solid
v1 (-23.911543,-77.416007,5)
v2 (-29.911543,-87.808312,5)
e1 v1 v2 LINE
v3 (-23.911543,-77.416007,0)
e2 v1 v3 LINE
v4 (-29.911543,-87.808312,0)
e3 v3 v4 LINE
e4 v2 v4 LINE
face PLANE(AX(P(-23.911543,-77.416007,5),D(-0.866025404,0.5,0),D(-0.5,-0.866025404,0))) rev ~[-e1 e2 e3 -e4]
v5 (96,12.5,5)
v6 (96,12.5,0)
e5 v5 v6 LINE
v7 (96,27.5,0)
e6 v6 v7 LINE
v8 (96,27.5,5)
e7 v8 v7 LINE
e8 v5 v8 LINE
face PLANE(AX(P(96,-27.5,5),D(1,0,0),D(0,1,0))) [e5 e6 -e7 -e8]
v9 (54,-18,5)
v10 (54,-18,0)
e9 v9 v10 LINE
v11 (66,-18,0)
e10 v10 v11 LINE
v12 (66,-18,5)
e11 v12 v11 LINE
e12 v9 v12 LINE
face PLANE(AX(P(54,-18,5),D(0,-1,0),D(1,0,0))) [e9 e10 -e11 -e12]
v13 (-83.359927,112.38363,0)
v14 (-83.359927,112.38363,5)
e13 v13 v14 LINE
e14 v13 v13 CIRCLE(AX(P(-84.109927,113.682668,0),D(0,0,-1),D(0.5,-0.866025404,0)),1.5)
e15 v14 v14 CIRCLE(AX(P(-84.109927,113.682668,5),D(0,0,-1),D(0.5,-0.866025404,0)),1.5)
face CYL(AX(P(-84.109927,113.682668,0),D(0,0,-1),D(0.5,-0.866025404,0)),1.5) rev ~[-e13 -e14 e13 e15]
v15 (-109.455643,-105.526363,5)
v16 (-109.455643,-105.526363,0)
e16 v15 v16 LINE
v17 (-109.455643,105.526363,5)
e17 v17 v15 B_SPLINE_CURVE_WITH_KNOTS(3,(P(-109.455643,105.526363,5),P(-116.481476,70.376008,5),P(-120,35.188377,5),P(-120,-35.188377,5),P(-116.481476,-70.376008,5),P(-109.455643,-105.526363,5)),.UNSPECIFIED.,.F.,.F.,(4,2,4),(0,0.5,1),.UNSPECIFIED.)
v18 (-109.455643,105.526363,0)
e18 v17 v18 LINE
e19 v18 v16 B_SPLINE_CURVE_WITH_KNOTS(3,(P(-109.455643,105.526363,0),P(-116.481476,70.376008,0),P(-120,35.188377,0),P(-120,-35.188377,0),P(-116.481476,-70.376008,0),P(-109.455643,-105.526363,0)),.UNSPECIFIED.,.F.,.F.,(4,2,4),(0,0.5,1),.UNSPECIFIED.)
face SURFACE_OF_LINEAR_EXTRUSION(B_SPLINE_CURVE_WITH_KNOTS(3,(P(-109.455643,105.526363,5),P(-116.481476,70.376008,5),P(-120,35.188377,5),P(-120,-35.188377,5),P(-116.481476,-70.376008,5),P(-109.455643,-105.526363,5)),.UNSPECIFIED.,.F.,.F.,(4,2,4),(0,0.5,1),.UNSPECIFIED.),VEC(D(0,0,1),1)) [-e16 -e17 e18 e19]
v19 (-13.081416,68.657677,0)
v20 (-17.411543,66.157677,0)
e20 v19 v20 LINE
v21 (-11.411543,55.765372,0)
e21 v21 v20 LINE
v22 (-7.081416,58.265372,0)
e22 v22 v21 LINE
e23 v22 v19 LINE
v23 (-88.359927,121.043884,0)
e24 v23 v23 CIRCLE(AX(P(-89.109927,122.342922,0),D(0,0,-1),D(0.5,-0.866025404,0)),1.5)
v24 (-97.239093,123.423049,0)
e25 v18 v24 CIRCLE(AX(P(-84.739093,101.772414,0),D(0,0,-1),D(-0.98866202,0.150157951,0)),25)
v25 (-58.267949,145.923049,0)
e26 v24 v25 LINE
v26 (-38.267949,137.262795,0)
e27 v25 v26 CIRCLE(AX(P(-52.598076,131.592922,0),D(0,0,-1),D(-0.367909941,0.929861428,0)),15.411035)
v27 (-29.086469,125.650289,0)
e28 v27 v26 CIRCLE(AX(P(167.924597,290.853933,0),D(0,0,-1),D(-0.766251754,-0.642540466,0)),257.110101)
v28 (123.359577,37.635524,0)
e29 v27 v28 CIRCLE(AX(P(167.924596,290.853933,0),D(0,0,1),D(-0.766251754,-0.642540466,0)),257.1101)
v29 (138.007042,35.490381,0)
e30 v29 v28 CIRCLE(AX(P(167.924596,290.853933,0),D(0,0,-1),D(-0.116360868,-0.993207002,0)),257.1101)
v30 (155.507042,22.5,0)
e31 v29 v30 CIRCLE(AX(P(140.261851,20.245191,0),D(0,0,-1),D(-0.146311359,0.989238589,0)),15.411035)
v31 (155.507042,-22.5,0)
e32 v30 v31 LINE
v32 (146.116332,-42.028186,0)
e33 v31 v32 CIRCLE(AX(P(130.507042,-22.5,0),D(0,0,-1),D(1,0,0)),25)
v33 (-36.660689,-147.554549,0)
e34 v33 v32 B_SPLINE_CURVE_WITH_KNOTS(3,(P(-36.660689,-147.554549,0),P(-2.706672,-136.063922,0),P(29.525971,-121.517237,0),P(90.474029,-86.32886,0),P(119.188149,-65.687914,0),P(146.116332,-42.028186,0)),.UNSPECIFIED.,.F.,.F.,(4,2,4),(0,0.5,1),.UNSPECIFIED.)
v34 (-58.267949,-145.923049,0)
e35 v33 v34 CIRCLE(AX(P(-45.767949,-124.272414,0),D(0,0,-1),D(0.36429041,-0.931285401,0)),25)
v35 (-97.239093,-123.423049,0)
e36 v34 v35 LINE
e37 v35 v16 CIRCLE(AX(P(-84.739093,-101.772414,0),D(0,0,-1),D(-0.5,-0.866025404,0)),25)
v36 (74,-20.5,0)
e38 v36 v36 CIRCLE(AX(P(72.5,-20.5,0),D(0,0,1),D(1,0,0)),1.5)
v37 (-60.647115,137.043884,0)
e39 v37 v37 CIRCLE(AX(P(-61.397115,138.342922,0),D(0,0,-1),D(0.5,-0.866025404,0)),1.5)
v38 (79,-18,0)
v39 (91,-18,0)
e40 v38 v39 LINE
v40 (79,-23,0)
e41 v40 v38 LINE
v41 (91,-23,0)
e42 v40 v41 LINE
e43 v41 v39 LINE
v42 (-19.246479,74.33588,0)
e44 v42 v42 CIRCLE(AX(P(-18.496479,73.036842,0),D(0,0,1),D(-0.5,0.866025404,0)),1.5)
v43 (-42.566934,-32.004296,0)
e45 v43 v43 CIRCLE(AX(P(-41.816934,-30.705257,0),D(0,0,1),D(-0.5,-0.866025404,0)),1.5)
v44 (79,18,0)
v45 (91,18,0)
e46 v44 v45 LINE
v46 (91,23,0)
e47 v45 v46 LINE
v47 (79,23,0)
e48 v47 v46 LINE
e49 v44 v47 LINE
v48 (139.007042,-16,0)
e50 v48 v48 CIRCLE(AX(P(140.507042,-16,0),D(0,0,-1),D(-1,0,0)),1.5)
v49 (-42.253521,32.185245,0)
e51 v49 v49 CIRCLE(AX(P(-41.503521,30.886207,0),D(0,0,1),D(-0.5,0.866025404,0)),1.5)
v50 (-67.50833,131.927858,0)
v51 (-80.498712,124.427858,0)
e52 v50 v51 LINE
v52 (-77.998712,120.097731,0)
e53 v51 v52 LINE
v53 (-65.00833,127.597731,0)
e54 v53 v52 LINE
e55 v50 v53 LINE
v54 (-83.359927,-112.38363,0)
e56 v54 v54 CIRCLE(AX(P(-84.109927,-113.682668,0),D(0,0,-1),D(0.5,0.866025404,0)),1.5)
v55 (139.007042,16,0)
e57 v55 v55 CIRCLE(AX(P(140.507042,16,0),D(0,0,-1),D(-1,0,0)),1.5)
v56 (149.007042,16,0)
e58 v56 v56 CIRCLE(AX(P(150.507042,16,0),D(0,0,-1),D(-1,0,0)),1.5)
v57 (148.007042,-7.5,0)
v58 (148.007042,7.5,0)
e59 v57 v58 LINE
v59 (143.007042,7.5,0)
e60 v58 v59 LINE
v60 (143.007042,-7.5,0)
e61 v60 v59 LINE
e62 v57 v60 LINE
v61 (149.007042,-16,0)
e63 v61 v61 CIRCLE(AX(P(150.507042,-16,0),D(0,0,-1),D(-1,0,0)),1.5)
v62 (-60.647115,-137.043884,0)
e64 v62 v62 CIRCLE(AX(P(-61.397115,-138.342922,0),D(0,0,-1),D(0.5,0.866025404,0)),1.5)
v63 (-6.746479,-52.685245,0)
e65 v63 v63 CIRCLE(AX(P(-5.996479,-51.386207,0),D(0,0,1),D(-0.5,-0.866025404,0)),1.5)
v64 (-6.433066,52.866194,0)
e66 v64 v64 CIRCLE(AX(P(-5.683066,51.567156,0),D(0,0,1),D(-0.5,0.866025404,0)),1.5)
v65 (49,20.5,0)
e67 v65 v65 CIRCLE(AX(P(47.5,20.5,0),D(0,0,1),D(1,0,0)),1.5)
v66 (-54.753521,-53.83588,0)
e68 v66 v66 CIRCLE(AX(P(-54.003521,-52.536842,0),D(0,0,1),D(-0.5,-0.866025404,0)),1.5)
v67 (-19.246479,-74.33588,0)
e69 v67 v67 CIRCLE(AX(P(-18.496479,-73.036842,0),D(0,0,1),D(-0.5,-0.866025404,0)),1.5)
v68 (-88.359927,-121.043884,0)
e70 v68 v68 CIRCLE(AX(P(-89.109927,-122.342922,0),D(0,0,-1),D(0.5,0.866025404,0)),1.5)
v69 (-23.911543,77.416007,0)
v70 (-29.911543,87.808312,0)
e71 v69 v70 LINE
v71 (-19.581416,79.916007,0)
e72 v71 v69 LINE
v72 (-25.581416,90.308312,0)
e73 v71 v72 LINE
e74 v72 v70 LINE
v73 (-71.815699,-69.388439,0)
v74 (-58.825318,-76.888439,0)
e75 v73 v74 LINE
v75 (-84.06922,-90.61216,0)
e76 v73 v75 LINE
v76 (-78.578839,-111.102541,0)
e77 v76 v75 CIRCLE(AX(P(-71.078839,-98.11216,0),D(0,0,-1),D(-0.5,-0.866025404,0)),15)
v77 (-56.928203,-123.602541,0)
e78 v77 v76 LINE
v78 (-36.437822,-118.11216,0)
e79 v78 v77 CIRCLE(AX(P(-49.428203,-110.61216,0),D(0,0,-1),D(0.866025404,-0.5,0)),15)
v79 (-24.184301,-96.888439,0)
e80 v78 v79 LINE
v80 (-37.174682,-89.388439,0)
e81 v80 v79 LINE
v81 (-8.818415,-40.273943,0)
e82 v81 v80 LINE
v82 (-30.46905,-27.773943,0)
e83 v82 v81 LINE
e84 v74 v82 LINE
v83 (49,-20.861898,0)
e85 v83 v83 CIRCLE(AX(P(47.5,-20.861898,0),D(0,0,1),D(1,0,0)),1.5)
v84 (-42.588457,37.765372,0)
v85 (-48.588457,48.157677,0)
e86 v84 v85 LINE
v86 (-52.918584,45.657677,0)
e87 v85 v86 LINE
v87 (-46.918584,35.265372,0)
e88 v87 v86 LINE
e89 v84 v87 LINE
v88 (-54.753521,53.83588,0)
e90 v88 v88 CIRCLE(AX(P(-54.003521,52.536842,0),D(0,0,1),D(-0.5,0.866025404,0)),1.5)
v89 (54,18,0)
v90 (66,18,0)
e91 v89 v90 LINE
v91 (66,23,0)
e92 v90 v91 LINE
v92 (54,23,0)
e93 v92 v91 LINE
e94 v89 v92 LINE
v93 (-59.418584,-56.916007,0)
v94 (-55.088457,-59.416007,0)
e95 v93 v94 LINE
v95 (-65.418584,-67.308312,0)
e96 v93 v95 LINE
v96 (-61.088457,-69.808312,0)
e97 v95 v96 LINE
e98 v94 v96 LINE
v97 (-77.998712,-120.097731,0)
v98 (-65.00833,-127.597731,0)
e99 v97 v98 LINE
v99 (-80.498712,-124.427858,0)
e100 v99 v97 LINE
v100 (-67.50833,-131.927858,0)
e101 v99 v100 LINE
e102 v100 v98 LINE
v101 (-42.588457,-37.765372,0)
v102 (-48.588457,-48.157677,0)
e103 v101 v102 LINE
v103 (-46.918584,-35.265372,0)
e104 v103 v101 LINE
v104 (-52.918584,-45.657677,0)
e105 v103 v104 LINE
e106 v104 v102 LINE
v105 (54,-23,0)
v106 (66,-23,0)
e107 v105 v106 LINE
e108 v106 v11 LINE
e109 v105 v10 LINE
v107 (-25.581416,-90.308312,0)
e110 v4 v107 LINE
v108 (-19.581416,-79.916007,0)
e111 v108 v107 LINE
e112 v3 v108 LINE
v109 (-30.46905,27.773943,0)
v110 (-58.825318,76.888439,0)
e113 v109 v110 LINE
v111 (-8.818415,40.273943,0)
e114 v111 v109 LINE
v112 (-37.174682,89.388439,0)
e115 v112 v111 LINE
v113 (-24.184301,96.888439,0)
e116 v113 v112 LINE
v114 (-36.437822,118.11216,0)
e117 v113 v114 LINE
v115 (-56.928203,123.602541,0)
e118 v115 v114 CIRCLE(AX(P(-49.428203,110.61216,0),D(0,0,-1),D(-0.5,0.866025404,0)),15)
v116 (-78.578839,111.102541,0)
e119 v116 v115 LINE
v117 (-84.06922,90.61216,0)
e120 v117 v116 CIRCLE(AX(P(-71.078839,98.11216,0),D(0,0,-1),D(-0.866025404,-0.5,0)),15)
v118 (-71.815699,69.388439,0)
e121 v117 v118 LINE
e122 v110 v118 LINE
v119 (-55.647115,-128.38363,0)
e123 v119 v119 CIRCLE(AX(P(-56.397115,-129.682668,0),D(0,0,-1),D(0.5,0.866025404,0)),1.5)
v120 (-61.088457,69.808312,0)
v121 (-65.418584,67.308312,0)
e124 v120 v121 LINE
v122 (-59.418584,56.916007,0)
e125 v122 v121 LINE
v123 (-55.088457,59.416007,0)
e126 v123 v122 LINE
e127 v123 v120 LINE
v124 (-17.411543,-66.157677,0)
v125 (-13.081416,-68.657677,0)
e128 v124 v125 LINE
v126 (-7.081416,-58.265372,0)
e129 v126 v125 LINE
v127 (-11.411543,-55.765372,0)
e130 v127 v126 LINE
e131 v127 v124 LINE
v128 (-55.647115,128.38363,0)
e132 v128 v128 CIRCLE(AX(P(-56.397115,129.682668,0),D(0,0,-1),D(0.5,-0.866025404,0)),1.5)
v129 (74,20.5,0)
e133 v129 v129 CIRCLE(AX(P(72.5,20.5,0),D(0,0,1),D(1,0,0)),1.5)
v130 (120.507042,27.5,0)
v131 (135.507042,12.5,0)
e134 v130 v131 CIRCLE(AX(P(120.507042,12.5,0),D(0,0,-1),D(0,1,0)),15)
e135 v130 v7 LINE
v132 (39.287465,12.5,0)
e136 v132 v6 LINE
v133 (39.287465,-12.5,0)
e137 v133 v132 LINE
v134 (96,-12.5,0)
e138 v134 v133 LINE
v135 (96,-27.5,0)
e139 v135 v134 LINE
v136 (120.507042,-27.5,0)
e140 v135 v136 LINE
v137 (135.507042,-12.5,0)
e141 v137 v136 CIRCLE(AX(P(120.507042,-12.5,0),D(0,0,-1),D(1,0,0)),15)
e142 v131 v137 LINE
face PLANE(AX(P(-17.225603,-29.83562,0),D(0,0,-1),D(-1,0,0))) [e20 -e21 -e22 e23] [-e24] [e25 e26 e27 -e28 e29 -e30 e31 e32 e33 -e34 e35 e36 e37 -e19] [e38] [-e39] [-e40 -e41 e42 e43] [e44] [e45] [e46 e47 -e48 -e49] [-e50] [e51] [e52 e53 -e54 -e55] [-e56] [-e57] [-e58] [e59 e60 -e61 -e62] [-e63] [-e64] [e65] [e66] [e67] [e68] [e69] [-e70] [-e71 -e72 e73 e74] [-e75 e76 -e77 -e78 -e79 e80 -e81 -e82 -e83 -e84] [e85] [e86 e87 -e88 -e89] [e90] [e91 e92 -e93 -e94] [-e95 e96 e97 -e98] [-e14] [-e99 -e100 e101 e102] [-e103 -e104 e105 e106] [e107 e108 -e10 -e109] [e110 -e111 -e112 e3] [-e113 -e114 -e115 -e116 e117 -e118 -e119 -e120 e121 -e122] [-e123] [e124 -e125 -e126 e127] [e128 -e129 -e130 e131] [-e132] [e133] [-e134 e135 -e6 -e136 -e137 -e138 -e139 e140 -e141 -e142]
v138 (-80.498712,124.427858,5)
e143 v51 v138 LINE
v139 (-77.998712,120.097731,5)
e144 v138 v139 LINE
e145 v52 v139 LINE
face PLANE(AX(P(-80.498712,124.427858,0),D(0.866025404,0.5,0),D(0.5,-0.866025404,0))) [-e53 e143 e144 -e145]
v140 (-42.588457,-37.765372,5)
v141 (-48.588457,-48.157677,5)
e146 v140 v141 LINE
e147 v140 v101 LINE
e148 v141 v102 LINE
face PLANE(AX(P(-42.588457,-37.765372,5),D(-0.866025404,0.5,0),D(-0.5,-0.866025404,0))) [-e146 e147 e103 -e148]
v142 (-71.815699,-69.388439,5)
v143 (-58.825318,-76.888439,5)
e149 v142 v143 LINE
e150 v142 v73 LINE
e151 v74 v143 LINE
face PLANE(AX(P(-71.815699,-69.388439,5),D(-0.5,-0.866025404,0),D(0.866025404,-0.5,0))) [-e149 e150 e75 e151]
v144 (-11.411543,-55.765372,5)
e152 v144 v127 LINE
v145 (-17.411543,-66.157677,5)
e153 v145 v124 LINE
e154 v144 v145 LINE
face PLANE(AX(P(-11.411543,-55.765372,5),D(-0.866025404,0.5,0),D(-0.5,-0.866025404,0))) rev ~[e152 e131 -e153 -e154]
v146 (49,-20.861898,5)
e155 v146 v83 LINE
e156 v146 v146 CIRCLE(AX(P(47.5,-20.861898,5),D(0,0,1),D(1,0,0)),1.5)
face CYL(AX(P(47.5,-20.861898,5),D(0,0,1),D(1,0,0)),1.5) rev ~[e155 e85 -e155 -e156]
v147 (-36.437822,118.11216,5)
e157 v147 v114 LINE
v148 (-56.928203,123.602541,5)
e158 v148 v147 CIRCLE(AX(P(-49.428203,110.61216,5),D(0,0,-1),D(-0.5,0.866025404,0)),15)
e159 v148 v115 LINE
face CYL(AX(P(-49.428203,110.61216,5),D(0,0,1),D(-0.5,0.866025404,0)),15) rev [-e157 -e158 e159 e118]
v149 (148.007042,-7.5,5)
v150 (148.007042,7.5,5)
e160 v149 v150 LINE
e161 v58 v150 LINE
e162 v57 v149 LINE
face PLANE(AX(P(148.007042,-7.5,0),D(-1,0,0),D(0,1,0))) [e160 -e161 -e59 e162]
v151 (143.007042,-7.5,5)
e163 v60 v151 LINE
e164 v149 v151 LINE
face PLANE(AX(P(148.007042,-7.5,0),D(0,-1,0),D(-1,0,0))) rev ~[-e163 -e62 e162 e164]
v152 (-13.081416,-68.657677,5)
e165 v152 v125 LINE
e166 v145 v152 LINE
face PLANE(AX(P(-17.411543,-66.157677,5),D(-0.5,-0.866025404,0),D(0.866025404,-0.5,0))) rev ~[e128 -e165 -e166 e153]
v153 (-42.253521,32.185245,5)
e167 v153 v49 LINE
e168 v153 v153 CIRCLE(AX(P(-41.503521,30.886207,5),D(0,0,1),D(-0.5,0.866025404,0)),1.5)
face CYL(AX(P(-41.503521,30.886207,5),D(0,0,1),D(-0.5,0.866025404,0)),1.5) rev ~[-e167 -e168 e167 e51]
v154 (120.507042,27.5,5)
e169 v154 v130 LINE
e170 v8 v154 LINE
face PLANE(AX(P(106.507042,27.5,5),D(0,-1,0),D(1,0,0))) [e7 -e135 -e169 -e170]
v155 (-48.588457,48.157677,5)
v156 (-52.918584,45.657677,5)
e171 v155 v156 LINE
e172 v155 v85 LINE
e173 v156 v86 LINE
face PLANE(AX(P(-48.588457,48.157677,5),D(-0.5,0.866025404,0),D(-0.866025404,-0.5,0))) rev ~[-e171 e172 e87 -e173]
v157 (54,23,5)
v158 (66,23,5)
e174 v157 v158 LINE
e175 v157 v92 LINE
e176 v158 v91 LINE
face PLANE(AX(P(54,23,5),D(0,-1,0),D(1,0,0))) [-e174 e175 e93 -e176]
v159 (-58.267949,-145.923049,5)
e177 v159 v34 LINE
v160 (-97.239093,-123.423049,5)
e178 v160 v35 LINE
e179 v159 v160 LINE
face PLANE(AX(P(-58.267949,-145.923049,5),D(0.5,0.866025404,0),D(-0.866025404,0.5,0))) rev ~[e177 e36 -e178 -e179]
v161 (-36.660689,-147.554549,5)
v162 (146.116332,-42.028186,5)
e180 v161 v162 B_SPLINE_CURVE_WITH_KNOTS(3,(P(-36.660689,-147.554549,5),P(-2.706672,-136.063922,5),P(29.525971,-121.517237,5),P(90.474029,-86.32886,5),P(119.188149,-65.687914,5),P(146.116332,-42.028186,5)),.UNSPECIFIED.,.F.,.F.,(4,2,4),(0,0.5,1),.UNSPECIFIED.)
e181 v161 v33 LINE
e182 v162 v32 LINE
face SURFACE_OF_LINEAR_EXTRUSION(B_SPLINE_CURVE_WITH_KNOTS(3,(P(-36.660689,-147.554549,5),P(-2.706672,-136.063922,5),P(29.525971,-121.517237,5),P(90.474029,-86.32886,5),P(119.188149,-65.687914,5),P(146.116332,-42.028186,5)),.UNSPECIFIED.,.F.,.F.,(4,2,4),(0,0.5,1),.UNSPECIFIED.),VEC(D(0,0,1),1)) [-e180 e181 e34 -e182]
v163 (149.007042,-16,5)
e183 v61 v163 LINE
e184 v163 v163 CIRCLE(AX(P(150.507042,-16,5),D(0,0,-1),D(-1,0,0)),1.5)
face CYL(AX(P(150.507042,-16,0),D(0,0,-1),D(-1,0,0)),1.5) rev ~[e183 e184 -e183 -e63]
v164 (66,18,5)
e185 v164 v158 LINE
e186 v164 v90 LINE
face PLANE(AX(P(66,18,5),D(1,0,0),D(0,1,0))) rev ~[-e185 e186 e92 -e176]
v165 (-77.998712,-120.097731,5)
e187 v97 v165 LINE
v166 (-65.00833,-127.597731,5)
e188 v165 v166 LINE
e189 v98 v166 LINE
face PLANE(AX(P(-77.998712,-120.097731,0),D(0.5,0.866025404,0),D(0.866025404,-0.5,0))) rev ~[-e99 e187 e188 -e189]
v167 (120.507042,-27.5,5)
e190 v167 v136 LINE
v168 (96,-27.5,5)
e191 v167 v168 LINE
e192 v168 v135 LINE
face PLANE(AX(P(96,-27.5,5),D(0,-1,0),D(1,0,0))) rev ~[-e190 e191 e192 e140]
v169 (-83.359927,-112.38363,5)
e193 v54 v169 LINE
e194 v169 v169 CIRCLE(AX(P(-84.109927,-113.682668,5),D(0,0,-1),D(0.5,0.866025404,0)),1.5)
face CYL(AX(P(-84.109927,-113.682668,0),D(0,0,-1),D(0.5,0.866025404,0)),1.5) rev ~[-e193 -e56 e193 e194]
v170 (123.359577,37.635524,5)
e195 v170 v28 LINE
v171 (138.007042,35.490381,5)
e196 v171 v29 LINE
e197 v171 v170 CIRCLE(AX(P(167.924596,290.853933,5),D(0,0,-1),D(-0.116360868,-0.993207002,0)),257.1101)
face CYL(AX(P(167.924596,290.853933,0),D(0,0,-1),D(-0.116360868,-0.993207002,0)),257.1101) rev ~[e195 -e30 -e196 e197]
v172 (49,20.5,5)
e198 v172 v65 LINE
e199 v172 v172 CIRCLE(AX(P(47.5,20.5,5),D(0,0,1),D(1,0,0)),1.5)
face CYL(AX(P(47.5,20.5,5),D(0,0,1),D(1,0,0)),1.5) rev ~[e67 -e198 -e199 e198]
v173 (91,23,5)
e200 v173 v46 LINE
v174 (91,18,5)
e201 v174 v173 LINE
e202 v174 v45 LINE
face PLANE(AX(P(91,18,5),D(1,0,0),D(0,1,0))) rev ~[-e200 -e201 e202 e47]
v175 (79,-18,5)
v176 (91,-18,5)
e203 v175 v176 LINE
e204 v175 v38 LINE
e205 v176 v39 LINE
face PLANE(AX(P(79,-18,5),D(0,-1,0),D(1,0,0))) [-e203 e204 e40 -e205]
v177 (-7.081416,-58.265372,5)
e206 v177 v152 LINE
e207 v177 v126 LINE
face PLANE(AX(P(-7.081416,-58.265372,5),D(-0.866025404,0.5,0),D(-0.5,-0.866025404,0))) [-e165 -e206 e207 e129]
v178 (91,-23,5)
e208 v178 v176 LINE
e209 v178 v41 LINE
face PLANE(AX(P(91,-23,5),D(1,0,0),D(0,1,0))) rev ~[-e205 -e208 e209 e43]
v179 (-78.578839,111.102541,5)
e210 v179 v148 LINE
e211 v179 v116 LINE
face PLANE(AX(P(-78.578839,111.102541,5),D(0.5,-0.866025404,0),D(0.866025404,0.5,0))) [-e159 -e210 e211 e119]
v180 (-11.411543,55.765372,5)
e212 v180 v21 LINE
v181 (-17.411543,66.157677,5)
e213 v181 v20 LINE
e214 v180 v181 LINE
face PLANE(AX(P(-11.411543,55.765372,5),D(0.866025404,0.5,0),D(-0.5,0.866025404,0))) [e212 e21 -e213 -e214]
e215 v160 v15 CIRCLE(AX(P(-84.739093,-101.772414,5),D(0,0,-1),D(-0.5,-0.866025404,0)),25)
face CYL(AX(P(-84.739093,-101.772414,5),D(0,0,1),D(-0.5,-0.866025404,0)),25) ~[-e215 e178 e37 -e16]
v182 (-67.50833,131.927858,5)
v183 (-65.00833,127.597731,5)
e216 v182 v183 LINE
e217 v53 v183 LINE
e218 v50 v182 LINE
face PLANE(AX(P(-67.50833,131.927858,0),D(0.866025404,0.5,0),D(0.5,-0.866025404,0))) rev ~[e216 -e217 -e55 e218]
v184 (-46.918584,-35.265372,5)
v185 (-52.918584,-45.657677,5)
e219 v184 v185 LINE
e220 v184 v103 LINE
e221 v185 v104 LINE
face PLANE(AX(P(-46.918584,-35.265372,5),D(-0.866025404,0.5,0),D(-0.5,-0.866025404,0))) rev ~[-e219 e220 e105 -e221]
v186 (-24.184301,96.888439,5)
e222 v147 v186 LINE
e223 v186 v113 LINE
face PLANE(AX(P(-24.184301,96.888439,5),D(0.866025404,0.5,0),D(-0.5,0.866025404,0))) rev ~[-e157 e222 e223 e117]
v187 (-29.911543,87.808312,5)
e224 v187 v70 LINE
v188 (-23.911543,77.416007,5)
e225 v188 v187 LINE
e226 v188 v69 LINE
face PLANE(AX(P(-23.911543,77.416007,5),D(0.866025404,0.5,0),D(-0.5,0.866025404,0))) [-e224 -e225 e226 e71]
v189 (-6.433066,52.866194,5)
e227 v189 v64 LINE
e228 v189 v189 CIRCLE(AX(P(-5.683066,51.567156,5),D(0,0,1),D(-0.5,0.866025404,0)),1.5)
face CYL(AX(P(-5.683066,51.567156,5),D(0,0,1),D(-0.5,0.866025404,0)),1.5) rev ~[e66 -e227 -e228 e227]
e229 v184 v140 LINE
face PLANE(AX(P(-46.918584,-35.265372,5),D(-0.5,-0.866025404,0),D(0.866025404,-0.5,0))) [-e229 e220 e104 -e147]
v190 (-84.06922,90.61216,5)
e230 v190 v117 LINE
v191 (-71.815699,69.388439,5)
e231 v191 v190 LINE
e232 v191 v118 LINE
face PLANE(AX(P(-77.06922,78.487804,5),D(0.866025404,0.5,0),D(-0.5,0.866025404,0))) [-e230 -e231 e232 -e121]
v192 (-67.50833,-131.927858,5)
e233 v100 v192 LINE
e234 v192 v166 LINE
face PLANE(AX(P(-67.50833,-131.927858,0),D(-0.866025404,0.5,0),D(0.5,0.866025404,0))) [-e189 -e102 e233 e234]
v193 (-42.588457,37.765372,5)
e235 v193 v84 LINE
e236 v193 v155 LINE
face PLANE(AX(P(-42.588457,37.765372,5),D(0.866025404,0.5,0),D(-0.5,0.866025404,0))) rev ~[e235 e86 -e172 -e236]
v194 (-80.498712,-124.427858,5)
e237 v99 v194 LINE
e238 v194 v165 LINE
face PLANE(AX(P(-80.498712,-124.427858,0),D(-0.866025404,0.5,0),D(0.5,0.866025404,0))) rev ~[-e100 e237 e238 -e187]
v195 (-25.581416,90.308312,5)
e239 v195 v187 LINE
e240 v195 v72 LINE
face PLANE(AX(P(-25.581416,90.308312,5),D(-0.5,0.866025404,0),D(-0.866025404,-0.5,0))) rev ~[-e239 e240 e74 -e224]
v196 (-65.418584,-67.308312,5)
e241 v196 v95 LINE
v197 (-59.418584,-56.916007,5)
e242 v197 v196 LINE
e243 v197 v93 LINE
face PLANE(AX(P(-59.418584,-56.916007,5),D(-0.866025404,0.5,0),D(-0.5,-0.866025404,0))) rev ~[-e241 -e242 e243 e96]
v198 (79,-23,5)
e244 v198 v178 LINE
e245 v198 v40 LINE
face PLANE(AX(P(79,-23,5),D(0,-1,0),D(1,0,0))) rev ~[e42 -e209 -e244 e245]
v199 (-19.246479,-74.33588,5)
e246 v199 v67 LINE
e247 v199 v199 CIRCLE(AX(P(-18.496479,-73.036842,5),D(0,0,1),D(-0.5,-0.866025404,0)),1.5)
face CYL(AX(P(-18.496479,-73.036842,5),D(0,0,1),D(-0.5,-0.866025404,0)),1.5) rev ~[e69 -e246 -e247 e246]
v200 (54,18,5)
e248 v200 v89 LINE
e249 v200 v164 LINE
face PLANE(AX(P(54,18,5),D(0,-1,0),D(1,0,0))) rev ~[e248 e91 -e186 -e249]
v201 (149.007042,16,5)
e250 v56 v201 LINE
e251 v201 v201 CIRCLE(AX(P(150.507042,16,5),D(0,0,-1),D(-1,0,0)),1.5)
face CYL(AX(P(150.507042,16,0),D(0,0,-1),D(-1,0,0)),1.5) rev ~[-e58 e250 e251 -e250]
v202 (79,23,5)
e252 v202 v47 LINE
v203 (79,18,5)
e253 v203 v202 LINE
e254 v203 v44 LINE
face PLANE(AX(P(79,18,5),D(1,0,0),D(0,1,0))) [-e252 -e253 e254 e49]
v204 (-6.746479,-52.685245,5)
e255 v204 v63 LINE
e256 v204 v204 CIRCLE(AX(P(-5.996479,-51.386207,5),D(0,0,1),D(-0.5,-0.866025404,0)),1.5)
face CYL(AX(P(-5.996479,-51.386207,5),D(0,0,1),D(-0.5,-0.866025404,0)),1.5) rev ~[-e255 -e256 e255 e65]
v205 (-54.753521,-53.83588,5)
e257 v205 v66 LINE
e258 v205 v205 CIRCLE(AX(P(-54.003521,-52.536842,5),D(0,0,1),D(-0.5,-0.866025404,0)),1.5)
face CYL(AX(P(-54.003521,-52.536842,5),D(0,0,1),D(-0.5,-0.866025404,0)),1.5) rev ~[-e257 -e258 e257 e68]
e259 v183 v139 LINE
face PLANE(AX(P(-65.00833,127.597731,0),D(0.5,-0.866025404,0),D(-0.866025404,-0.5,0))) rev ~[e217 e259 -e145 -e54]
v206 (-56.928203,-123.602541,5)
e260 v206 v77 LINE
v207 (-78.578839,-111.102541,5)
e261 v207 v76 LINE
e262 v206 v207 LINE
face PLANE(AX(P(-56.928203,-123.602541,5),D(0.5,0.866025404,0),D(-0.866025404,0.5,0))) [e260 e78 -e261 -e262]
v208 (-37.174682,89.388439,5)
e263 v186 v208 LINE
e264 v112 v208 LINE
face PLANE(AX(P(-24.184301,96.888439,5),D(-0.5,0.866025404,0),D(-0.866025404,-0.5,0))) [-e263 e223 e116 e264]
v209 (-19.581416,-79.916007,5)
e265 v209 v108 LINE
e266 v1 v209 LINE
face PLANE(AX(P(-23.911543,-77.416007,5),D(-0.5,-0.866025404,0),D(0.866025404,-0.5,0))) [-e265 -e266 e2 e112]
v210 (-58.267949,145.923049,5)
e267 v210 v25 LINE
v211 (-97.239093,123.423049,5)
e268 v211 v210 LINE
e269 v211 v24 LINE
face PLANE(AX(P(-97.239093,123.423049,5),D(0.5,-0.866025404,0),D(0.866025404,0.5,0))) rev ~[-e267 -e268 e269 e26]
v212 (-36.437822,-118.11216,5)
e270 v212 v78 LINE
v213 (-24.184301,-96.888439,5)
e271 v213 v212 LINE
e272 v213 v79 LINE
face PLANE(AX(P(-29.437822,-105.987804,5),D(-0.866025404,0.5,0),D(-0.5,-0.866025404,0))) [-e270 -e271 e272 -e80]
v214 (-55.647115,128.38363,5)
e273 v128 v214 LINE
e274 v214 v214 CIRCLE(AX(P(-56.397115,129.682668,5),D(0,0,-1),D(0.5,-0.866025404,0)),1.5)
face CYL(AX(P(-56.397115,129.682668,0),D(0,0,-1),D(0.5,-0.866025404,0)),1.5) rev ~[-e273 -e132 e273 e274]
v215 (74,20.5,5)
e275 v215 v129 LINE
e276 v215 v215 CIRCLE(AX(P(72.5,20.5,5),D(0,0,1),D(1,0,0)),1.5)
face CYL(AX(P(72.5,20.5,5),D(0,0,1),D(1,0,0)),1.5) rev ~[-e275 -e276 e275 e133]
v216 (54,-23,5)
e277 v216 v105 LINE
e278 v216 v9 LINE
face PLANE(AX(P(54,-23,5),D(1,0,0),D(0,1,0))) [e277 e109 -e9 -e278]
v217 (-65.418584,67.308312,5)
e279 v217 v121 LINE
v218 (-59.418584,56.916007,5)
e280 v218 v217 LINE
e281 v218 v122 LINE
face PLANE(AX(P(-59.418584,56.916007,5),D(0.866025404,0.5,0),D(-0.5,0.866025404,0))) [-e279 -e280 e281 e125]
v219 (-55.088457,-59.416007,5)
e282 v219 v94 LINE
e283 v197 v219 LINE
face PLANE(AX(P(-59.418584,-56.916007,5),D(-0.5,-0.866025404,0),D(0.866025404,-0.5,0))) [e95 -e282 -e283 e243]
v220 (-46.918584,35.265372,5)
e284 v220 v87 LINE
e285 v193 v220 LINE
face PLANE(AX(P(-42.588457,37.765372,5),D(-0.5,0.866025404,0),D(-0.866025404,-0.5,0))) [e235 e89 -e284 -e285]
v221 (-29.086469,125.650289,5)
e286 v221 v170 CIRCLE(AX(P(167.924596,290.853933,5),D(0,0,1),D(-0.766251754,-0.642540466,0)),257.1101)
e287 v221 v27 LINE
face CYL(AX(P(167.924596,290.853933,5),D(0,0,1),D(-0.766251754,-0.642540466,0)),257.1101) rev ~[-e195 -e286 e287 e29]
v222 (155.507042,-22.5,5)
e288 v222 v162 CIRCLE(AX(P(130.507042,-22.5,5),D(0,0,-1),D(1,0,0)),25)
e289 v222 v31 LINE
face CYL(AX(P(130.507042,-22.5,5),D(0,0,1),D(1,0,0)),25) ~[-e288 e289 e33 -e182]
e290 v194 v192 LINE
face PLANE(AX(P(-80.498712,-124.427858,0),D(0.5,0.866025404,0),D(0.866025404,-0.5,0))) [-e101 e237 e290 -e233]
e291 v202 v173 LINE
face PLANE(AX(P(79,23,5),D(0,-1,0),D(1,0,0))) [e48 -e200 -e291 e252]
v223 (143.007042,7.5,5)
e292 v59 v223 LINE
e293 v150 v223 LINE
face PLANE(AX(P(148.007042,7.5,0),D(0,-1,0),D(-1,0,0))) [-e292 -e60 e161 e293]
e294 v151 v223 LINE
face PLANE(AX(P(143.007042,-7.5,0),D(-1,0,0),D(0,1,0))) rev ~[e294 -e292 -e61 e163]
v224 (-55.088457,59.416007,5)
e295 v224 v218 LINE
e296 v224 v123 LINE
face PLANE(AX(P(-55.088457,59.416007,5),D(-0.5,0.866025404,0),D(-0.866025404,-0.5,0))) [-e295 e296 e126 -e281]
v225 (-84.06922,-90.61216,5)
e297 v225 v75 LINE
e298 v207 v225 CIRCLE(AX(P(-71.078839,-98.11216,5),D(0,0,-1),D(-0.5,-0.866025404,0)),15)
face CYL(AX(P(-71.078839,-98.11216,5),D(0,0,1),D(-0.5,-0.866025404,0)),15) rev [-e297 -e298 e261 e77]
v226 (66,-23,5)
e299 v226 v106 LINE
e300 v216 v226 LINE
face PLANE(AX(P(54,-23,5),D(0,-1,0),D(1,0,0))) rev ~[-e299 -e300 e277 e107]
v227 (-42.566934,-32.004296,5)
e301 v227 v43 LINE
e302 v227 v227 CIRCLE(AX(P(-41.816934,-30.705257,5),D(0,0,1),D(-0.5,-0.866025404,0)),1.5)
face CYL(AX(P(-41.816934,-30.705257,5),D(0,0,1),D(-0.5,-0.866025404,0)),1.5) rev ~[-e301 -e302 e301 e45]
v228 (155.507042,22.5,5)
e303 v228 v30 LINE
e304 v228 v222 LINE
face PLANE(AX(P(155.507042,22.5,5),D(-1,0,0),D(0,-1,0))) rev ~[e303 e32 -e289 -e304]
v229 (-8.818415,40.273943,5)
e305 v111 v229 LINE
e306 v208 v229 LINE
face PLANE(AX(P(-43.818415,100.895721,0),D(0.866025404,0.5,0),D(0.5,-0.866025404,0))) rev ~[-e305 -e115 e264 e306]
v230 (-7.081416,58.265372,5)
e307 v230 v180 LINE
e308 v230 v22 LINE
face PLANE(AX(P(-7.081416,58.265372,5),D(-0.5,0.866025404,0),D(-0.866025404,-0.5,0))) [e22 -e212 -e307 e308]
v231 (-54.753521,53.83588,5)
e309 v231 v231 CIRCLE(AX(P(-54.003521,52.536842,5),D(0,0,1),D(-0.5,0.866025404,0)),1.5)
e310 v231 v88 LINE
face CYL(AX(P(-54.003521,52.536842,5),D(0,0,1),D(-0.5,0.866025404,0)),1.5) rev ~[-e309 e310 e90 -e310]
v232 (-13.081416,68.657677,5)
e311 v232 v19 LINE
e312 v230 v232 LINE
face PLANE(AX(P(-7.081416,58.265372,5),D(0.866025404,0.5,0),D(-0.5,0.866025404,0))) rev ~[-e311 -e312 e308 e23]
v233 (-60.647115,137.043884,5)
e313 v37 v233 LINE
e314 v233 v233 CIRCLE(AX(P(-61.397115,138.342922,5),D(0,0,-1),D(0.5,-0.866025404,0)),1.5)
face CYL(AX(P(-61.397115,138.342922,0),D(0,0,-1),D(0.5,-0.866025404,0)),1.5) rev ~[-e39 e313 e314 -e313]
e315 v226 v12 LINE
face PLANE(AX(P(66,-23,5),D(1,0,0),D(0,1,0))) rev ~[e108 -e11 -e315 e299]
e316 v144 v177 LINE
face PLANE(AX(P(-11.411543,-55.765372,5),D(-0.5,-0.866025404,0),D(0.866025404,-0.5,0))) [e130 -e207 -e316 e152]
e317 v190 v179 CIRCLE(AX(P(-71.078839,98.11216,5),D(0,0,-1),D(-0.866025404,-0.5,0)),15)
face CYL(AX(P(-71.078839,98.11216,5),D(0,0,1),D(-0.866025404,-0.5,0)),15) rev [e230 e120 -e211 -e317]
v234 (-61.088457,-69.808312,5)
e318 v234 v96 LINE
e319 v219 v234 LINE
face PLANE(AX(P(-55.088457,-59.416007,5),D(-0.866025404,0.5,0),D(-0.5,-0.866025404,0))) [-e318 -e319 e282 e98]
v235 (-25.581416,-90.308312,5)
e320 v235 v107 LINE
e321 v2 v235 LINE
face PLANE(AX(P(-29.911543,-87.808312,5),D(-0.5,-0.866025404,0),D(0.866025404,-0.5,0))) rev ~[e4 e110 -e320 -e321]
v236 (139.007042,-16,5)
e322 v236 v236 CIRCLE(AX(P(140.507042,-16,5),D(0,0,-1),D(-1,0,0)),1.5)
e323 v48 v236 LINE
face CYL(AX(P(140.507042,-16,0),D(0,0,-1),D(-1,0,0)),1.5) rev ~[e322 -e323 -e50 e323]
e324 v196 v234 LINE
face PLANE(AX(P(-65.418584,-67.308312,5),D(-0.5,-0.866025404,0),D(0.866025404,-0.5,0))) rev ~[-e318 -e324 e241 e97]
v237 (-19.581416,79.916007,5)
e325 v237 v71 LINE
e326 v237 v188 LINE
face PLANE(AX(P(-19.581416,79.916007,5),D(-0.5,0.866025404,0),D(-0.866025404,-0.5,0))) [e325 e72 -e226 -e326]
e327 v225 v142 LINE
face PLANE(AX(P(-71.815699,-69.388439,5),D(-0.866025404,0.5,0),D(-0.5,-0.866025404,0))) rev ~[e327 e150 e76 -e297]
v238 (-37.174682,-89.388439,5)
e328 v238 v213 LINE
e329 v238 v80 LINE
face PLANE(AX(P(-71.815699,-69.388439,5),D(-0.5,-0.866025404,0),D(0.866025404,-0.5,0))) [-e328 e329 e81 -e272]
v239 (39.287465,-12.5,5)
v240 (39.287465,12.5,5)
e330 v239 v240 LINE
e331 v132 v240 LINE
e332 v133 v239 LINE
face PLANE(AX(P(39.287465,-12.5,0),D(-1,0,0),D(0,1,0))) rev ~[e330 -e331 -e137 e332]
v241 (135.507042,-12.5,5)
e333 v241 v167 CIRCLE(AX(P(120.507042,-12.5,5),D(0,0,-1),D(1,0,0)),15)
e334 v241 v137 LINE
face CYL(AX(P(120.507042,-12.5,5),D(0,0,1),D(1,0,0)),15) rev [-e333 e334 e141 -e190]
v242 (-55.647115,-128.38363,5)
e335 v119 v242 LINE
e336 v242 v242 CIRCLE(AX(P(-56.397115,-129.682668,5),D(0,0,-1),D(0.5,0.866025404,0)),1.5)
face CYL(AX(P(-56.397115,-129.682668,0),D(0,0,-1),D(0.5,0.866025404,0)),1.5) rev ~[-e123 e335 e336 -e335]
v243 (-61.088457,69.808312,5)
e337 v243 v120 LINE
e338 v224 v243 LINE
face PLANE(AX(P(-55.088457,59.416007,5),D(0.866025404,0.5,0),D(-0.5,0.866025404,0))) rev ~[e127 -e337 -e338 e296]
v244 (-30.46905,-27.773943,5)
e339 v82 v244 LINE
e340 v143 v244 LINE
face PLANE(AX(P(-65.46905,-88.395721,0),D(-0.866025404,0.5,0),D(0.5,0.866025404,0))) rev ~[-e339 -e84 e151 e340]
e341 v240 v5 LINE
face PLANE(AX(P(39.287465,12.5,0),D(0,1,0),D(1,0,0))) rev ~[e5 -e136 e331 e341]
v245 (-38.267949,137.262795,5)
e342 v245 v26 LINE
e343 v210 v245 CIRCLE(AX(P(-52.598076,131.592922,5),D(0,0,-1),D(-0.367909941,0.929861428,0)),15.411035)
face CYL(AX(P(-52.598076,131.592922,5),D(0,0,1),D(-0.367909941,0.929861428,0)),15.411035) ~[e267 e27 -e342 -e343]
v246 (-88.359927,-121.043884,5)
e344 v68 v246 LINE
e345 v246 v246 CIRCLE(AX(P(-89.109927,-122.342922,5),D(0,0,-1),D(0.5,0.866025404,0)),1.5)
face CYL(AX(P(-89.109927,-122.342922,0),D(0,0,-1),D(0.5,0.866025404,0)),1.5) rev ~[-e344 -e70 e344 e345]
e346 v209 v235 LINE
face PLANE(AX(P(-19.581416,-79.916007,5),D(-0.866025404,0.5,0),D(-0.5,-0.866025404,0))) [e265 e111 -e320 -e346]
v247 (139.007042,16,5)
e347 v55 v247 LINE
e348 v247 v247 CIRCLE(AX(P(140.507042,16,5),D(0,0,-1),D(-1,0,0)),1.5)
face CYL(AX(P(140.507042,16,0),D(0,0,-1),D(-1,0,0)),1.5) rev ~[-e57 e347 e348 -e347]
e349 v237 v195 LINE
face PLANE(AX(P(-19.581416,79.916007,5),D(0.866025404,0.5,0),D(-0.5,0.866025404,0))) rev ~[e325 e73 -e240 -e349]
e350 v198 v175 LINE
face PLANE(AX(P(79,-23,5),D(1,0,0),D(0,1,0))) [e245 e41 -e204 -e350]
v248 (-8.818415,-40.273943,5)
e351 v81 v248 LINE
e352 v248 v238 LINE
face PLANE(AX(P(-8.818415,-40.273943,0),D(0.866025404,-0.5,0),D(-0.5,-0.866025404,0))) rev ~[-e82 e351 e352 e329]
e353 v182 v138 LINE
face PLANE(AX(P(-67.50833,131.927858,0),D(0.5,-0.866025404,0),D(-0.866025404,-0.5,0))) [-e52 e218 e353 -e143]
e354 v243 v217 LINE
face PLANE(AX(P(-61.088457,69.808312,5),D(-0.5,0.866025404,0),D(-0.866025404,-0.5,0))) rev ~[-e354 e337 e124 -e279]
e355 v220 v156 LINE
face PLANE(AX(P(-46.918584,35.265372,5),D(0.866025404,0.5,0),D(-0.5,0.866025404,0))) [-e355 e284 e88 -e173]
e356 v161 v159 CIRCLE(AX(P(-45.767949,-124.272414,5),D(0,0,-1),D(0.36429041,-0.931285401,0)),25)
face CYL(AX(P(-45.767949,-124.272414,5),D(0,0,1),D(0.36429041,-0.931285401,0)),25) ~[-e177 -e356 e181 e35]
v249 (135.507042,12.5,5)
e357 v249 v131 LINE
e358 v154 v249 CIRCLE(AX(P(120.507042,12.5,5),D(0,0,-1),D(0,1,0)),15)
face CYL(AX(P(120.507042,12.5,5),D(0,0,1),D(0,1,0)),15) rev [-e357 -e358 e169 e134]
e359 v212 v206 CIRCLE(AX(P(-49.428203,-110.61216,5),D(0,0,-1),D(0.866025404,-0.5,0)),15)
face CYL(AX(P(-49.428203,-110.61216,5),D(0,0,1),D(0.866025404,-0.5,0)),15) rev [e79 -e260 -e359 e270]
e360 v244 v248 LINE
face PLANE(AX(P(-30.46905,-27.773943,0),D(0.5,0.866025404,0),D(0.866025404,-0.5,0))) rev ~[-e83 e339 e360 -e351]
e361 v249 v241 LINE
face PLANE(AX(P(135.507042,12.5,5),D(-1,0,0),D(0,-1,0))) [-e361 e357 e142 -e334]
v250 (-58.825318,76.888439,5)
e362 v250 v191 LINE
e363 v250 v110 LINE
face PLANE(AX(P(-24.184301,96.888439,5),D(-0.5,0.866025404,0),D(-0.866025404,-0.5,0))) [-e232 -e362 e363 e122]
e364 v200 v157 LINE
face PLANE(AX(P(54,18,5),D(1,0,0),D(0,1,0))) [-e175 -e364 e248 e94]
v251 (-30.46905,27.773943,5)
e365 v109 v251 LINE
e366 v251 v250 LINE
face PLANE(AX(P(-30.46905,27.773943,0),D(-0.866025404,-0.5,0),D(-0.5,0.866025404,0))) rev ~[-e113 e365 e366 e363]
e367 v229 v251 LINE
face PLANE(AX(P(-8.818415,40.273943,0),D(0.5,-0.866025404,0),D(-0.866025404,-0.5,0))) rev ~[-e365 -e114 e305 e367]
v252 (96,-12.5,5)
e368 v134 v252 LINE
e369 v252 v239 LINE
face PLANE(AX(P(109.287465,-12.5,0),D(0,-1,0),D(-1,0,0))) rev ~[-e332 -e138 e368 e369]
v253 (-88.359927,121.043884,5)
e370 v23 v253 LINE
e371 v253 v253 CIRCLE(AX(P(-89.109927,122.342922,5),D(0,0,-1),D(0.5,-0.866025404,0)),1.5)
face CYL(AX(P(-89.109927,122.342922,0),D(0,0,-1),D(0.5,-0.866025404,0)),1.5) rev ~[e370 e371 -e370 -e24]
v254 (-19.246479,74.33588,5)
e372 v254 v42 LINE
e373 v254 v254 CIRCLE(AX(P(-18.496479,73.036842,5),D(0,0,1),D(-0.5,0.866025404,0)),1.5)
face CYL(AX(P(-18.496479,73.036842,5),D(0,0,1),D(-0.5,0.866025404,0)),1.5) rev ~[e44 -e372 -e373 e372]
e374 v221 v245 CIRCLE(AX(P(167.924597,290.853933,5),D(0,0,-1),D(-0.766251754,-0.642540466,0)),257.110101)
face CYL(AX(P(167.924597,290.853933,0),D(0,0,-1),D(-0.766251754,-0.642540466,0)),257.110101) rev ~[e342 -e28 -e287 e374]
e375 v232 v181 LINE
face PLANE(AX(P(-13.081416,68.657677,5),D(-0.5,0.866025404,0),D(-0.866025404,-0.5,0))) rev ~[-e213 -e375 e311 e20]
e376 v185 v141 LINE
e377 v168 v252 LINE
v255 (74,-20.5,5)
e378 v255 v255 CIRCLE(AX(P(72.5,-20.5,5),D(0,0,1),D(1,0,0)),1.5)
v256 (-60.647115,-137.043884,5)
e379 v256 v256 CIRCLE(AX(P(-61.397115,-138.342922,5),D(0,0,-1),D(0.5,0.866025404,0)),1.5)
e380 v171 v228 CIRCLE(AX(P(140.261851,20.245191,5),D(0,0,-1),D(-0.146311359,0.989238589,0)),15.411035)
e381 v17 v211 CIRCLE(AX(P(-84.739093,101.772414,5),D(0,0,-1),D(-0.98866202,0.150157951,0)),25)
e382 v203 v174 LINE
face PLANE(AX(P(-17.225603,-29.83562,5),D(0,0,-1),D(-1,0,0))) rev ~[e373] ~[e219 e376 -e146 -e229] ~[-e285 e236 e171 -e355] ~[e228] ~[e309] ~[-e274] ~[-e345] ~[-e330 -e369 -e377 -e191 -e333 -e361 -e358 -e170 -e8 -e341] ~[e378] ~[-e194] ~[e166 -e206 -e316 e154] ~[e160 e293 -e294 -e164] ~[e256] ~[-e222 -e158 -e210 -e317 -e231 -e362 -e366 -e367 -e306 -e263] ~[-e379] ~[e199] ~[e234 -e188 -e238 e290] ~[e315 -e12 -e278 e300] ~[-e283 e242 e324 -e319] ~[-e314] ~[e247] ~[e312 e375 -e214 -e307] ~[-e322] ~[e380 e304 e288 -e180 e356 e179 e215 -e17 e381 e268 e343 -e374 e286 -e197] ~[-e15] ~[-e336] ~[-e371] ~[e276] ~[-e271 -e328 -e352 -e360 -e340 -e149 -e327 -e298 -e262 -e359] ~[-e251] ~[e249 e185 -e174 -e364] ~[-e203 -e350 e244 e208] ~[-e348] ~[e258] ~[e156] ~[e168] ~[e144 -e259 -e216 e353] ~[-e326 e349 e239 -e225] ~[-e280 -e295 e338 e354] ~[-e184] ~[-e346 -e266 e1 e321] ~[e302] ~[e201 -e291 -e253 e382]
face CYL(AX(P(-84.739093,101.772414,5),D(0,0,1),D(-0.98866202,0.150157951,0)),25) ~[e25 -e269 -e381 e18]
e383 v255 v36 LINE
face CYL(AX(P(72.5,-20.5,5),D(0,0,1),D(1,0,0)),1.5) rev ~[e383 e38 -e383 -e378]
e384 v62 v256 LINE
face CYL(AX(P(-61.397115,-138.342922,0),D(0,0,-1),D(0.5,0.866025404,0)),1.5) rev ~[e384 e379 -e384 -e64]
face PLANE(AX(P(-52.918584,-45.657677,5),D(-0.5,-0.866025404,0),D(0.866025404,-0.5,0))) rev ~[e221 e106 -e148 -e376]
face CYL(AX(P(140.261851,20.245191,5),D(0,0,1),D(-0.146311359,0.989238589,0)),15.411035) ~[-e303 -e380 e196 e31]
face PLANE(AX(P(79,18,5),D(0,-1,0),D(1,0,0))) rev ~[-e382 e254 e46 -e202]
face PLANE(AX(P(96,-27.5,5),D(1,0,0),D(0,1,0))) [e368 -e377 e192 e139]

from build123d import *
from build123d.topology import SkipClean

# Parameters (mm, degrees)
BOSS_EXTRUDE1_DEPTH = 5
BOSS_EXTRUDE2_DEPTH = 5
SKETCH4_R           = 1.5
SKETCH4_W           = 21.014084041
SKETCH4_H           = 55
SKETCH4_W_2         = 12
SKETCH4_H_2         = 5
CUT_EXTRUDE1_DEPTH  = 5
CIRPATTERN1_COUNT   = 3
SKETCH5_R           = 188.544827525
CUT_EXTRUDE2_DEPTH  = 5
BOSS_EXTRUDE3_DEPTH = 5
BOSS_EXTRUDE4_DEPTH = 5
BOSS_EXTRUDE5_START = -5
BOSS_EXTRUDE5_DEPTH = 5
CUT_EXTRUDE3_START  = -5
CUT_EXTRUDE3_DEPTH  = 5
SKETCH8_R           = 1.5
SKETCH8_W           = 5
SKETCH8_H           = 15
CUT_EXTRUDE4_DEPTH  = 10
CIRPATTERN2_COUNT   = 3


with BuildPart() as part:
    # Sketch1 → Boss-Extrude1 (new body)
    with BuildSketch(Plane.XY):
        with BuildLine():
            Line((-8.818414939, -40.273942716), (-43.818414939, -100.895720981))
            ThreePointArc((-43.818414939, -100.895720981), (55, -95.262794416), (109.287464972, -12.5))
            Line((109.287464972, -12.5), (39.287464972, -12.5))
            Line((39.287464972, -12.5), (39.287464972, 12.5))
            Line((39.287464972, 12.5), (109.287464972, 12.5))
            ThreePointArc((109.287464972, 12.5), (55, 95.262794416), (-43.818414939, 100.895720981))
            Line((-43.818414939, 100.895720981), (-8.818414939, 40.273942716))
            Line((-8.818414939, 40.273942716), (-30.469050033, 27.773942716))
            Line((-30.469050033, 27.773942716), (-65.469050033, 88.395720981))
            ThreePointArc((-65.469050033, 88.395720981), (-110, 0), (-65.469050033, -88.395720981))
            Line((-65.469050033, -88.395720981), (-30.469050033, -27.773942716))
            Line((-30.469050033, -27.773942716), (-8.818414939, -40.273942716))
        make_face()
    extrude(amount=BOSS_EXTRUDE1_DEPTH)

    # Sketch3 → Boss-Extrude2 (add)
    with BuildSketch(Plane.XY.offset(5)):
        with BuildLine():
            Line((145.507042021, -22.5), (145.507042021, 22.5))
            ThreePointArc((145.507042021, 22.5), (141.113643739, 33.106601718), (130.507042021, 37.5))
            Line((130.507042021, 37.5), (96.507042021, 37.5))
            Line((96.507042021, 37.5), (96.507042021, -37.5))
            Line((96.507042021, -37.5), (130.507042021, -37.5))
            ThreePointArc((130.507042021, -37.5), (141.113643739, -33.106601718), (145.507042021, -22.5))
        make_face()
        with BuildLine():
            Line((120.507042021, -27.5), (106.507042021, -27.5))
            Line((106.507042021, -27.5), (106.507042021, 27.5))
            Line((106.507042021, 27.5), (120.507042021, 27.5))
            ThreePointArc((120.507042021, 27.5), (131.113643739, 23.106601718), (135.507042021, 12.5))
            Line((135.507042021, 12.5), (135.507042021, -12.5))
            ThreePointArc((135.507042021, -12.5), (131.113643739, -23.106601718), (120.507042021, -27.5))
        make_face(mode=Mode.SUBTRACT)
    boss_extrude2 = extrude(amount=-BOSS_EXTRUDE2_DEPTH)

    # Sketch4 → Cut-Extrude1 (cut)
    with BuildSketch(Plane.XY.offset(5)):
        with Locations((72.5, -20.5)):
            Circle(SKETCH4_R)
        with Locations((72.5, 20.5)):
            Circle(SKETCH4_R)
        with Locations((47.5, 20.5)):
            Circle(SKETCH4_R)
        with Locations((47.5, -20.861898396)):
            Circle(SKETCH4_R)
        with Locations((106.50704202, 0)):
            Rectangle(SKETCH4_W, SKETCH4_H)
        with Locations((85, -20.5)):
            Rectangle(SKETCH4_W_2, SKETCH4_H_2)
        with Locations((60, -20.5)):
            Rectangle(SKETCH4_W_2, SKETCH4_H_2)
        with Locations((85, 20.5)):
            Rectangle(SKETCH4_W_2, SKETCH4_H_2)
        with Locations((60, 20.5)):
            Rectangle(SKETCH4_W_2, SKETCH4_H_2)
    cut_extrude1 = extrude(amount=-CUT_EXTRUDE1_DEPTH, mode=Mode.SUBTRACT)

    # CirPattern1: Boss-Extrude2, Cut-Extrude1 ×3 about axis
    cirpattern1_axis = Axis((0, 0, 5), (0, 0, 1))
    add([boss_extrude2.rotate(cirpattern1_axis, i * 360 / CIRPATTERN1_COUNT) for i in range(1, CIRPATTERN1_COUNT)])
    add([cut_extrude1.rotate(cirpattern1_axis, i * 360 / CIRPATTERN1_COUNT) for i in range(1, CIRPATTERN1_COUNT)], mode=Mode.SUBTRACT)

    # Sketch5 → Cut-Extrude2 (cut)
    with BuildSketch(Plane.XY.offset(5)):
        with Locations((130.507042021, 226.044827525)):
            Circle(SKETCH5_R)
    extrude(amount=-CUT_EXTRUDE2_DEPTH, mode=Mode.SUBTRACT)

    # Sketch5<2> → Boss-Extrude3 (add)
    with SkipClean():  # the faces are left unmerged after this step: merging them gives an invalid solid
        with BuildSketch(Plane.XY.offset(5)):
            with BuildLine():
                ThreePointArc((130.507042021, 37.5), (36.234628258, 62.760217136), (-32.777568368, 131.772413763))
                ThreePointArc((-32.777568368, 131.772413763), (30.05166829, 52.051016331), (130.507042021, 37.5))
            make_face()
        extrude(amount=-BOSS_EXTRUDE3_DEPTH)

    # Sketch6 → Boss-Extrude4 (add)
    with SkipClean():  # the faces are left unmerged after this step: merging them gives an invalid solid
        with BuildSketch(Plane.XY.offset(5)):
            with BuildLine():
                add(Edge.make_bspline(
                    [(141.113643739, -33.106601718), (60.386010005, -104.591637395), (-41.885663749, -138.761301157)],
                    knots=[0, 0, 0, 1, 1, 1], degree=2))
                ThreePointArc((141.113643739, -33.106601718), (27.732185277, -48.033553904), (-41.885663749, -138.761301157))
            make_face()
            with BuildLine():
                ThreePointArc((-99.22797999, -105.654699439), (-55.464370554, 0), (-99.22797999, 105.654699439))
                add(Edge.make_bspline(
                    [(-99.22797999, 105.654699439), (-120.77202001, 0), (-99.22797999, -105.654699439)],
                    knots=[0, 0, 0, 1, 1, 1], degree=2))
            make_face()
        extrude(amount=-BOSS_EXTRUDE4_DEPTH)

    # Sketch7 → Boss-Extrude5 (add)
    with BuildSketch(Plane(origin=(0, 0, 0), x_dir=(-1, 0, 0), z_dir=(0, 0, -1)).offset(BOSS_EXTRUDE5_START)):
        with BuildLine():
            Line((-155.507042021, 22.5), (-155.507042021, -22.5))
            ThreePointArc((-155.507042021, -22.5), (-153.037379973, -33.334383774), (-146.11633228, -42.028186234))
            add(Edge.make_bspline(
                [(36.660689186, -147.554548779), (2.706672334, -136.063921523), (-29.525971209, -121.51723718), (-90.474028791, -86.328859728), (-119.188148744, -65.68791376), (-146.11633228, -42.028186234)],
                knots=[0, 0, 0, 0, 0.5, 0.5, 1, 1, 1, 1], degree=3))
            ThreePointArc((36.660689186, -147.554548779), (47.650266819, -149.201450672), (58.267949425, -145.923048857))
            Line((58.267949425, -145.923048857), (97.239092596, -123.423048857))
            ThreePointArc((97.239092596, -123.423048857), (105.387113154, -115.867066899), (109.455643094, -105.526362546))
            add(Edge.make_bspline(
                [(109.455643094, 105.526362546), (116.48147641, 70.376007763), (120, 35.188377452), (120, -35.188377452), (116.48147641, -70.376007763), (109.455643094, -105.526362546)],
                knots=[0, 0, 0, 0, 0.5, 0.5, 1, 1, 1, 1], degree=3))
            ThreePointArc((109.455643094, 105.526362546), (105.387113154, 115.867066899), (97.239092596, 123.423048857))
            Line((97.239092596, 123.423048857), (58.267949425, 145.923048857))
            ThreePointArc((58.267949425, 145.923048857), (46.474352087, 145.735057462), (38.267949425, 137.262794819))
            ThreePointArc((38.267949425, 137.262794819), (45.767949425, 139.272413763), (53.267949425, 137.262794819))
            Line((53.267949425, 137.262794819), (92.239092596, 114.762794819))
            ThreePointArc((92.239092596, 114.762794819), (97.185203012, 110.144649755), (99.598321301, 103.822614307))
            add(Edge.make_bspline(
                [(99.598321301, -103.822614309), (120.401678699, -1e-09), (99.598321301, 103.822614307)],
                knots=[0, 0, 0, 1, 1, 1], degree=2))
            ThreePointArc((99.598321301, -103.822614309), (97.185203011, -110.144649756), (92.239092596, -114.762794819))
            Line((92.239092596, -114.762794819), (53.267949425, -137.262794819))
            ThreePointArc((53.267949425, -137.262794819), (46.795463273, -139.237179557), (40.113860827, -138.165983575))
            add(Edge.make_bspline(
                [(-139.712182129, -34.343369266), (-60.20083935, -104.270912411), (40.113860827, -138.165983575)],
                knots=[0, 0, 0, 1, 1, 1], degree=2))
            ThreePointArc((-139.712182129, -34.343369266), (-143.980666285, -29.092529802), (-145.507042021, -22.5))
            Line((-145.507042021, -22.5), (-145.507042021, 22.5))
            ThreePointArc((-145.507042021, 22.5), (-143.497423077, 30), (-138.007042021, 35.490381057))
            ThreePointArc((-138.007042021, 35.490381057), (-149.447438028, 32.619559199), (-155.507042021, 22.5))
        make_face()
        with BuildLine():
            ThreePointArc((29.086468731, 125.650289264), (-39.369546298, 68.190054459), (-123.359576861, 37.635523805))
            ThreePointArc((-123.359576861, 37.635523805), (-36.234628258, 62.760217136), (29.086468731, 125.650289264))
        make_face()
    extrude(amount=BOSS_EXTRUDE5_DEPTH)

    # Sketch7<3> → Cut-Extrude3 (cut)
    with BuildSketch(Plane(origin=(0, 0, 0), x_dir=(-1, 0, 0), z_dir=(0, 0, -1)).offset(CUT_EXTRUDE3_START)):
        with BuildLine():
            ThreePointArc((-130.507042021, 37.5), (-134.389327697, 36.988887394), (-138.007042021, 35.490381057))
            ThreePointArc((-138.007042021, 35.490381057), (-130.667867293, 36.457510349), (-123.359576861, 37.635523805))
            ThreePointArc((-123.359576861, 37.635523805), (-126.932667079, 37.533883996), (-130.507042021, 37.5))
        make_face()
        with BuildLine():
            ThreePointArc((32.777568368, 131.772413763), (30.961036496, 128.693856258), (29.086468731, 125.650289264))
            ThreePointArc((29.086468731, 125.650289264), (33.760803526, 131.390447709), (38.267949425, 137.262794819))
            ThreePointArc((38.267949425, 137.262794819), (35.161347707, 134.87901548), (32.777568368, 131.772413763))
        make_face()
    extrude(amount=CUT_EXTRUDE3_DEPTH, mode=Mode.SUBTRACT)

    # Sketch8 → Cut-Extrude4 (cut)
    with BuildSketch(Plane(origin=(0, 0, 0), x_dir=(-1, 0, 0), z_dir=(0, 0, -1))):
        with Locations((-140.507042021, 16)):
            Circle(SKETCH8_R)
        with Locations((-140.507042021, -16)):
            Circle(SKETCH8_R)
        with Locations((-150.507042021, -16)):
            Circle(SKETCH8_R)
        with Locations((-150.507042021, 16)):
            Circle(SKETCH8_R)
        with Locations((-145.507042021, 0)):
            Rectangle(SKETCH8_W, SKETCH8_H)
    cut_extrude4 = extrude(amount=-CUT_EXTRUDE4_DEPTH, mode=Mode.SUBTRACT)

    # CirPattern2: Cut-Extrude4 ×3 about axis
    cirpattern2_axis = Axis((0, 0, 0), (0, 0, -1))
    for i in range(1, CIRPATTERN2_COUNT):
        add(cut_extrude4.rotate(cirpattern2_axis, i * 360 / CIRPATTERN2_COUNT), mode=Mode.SUBTRACT)


solid = part.part
